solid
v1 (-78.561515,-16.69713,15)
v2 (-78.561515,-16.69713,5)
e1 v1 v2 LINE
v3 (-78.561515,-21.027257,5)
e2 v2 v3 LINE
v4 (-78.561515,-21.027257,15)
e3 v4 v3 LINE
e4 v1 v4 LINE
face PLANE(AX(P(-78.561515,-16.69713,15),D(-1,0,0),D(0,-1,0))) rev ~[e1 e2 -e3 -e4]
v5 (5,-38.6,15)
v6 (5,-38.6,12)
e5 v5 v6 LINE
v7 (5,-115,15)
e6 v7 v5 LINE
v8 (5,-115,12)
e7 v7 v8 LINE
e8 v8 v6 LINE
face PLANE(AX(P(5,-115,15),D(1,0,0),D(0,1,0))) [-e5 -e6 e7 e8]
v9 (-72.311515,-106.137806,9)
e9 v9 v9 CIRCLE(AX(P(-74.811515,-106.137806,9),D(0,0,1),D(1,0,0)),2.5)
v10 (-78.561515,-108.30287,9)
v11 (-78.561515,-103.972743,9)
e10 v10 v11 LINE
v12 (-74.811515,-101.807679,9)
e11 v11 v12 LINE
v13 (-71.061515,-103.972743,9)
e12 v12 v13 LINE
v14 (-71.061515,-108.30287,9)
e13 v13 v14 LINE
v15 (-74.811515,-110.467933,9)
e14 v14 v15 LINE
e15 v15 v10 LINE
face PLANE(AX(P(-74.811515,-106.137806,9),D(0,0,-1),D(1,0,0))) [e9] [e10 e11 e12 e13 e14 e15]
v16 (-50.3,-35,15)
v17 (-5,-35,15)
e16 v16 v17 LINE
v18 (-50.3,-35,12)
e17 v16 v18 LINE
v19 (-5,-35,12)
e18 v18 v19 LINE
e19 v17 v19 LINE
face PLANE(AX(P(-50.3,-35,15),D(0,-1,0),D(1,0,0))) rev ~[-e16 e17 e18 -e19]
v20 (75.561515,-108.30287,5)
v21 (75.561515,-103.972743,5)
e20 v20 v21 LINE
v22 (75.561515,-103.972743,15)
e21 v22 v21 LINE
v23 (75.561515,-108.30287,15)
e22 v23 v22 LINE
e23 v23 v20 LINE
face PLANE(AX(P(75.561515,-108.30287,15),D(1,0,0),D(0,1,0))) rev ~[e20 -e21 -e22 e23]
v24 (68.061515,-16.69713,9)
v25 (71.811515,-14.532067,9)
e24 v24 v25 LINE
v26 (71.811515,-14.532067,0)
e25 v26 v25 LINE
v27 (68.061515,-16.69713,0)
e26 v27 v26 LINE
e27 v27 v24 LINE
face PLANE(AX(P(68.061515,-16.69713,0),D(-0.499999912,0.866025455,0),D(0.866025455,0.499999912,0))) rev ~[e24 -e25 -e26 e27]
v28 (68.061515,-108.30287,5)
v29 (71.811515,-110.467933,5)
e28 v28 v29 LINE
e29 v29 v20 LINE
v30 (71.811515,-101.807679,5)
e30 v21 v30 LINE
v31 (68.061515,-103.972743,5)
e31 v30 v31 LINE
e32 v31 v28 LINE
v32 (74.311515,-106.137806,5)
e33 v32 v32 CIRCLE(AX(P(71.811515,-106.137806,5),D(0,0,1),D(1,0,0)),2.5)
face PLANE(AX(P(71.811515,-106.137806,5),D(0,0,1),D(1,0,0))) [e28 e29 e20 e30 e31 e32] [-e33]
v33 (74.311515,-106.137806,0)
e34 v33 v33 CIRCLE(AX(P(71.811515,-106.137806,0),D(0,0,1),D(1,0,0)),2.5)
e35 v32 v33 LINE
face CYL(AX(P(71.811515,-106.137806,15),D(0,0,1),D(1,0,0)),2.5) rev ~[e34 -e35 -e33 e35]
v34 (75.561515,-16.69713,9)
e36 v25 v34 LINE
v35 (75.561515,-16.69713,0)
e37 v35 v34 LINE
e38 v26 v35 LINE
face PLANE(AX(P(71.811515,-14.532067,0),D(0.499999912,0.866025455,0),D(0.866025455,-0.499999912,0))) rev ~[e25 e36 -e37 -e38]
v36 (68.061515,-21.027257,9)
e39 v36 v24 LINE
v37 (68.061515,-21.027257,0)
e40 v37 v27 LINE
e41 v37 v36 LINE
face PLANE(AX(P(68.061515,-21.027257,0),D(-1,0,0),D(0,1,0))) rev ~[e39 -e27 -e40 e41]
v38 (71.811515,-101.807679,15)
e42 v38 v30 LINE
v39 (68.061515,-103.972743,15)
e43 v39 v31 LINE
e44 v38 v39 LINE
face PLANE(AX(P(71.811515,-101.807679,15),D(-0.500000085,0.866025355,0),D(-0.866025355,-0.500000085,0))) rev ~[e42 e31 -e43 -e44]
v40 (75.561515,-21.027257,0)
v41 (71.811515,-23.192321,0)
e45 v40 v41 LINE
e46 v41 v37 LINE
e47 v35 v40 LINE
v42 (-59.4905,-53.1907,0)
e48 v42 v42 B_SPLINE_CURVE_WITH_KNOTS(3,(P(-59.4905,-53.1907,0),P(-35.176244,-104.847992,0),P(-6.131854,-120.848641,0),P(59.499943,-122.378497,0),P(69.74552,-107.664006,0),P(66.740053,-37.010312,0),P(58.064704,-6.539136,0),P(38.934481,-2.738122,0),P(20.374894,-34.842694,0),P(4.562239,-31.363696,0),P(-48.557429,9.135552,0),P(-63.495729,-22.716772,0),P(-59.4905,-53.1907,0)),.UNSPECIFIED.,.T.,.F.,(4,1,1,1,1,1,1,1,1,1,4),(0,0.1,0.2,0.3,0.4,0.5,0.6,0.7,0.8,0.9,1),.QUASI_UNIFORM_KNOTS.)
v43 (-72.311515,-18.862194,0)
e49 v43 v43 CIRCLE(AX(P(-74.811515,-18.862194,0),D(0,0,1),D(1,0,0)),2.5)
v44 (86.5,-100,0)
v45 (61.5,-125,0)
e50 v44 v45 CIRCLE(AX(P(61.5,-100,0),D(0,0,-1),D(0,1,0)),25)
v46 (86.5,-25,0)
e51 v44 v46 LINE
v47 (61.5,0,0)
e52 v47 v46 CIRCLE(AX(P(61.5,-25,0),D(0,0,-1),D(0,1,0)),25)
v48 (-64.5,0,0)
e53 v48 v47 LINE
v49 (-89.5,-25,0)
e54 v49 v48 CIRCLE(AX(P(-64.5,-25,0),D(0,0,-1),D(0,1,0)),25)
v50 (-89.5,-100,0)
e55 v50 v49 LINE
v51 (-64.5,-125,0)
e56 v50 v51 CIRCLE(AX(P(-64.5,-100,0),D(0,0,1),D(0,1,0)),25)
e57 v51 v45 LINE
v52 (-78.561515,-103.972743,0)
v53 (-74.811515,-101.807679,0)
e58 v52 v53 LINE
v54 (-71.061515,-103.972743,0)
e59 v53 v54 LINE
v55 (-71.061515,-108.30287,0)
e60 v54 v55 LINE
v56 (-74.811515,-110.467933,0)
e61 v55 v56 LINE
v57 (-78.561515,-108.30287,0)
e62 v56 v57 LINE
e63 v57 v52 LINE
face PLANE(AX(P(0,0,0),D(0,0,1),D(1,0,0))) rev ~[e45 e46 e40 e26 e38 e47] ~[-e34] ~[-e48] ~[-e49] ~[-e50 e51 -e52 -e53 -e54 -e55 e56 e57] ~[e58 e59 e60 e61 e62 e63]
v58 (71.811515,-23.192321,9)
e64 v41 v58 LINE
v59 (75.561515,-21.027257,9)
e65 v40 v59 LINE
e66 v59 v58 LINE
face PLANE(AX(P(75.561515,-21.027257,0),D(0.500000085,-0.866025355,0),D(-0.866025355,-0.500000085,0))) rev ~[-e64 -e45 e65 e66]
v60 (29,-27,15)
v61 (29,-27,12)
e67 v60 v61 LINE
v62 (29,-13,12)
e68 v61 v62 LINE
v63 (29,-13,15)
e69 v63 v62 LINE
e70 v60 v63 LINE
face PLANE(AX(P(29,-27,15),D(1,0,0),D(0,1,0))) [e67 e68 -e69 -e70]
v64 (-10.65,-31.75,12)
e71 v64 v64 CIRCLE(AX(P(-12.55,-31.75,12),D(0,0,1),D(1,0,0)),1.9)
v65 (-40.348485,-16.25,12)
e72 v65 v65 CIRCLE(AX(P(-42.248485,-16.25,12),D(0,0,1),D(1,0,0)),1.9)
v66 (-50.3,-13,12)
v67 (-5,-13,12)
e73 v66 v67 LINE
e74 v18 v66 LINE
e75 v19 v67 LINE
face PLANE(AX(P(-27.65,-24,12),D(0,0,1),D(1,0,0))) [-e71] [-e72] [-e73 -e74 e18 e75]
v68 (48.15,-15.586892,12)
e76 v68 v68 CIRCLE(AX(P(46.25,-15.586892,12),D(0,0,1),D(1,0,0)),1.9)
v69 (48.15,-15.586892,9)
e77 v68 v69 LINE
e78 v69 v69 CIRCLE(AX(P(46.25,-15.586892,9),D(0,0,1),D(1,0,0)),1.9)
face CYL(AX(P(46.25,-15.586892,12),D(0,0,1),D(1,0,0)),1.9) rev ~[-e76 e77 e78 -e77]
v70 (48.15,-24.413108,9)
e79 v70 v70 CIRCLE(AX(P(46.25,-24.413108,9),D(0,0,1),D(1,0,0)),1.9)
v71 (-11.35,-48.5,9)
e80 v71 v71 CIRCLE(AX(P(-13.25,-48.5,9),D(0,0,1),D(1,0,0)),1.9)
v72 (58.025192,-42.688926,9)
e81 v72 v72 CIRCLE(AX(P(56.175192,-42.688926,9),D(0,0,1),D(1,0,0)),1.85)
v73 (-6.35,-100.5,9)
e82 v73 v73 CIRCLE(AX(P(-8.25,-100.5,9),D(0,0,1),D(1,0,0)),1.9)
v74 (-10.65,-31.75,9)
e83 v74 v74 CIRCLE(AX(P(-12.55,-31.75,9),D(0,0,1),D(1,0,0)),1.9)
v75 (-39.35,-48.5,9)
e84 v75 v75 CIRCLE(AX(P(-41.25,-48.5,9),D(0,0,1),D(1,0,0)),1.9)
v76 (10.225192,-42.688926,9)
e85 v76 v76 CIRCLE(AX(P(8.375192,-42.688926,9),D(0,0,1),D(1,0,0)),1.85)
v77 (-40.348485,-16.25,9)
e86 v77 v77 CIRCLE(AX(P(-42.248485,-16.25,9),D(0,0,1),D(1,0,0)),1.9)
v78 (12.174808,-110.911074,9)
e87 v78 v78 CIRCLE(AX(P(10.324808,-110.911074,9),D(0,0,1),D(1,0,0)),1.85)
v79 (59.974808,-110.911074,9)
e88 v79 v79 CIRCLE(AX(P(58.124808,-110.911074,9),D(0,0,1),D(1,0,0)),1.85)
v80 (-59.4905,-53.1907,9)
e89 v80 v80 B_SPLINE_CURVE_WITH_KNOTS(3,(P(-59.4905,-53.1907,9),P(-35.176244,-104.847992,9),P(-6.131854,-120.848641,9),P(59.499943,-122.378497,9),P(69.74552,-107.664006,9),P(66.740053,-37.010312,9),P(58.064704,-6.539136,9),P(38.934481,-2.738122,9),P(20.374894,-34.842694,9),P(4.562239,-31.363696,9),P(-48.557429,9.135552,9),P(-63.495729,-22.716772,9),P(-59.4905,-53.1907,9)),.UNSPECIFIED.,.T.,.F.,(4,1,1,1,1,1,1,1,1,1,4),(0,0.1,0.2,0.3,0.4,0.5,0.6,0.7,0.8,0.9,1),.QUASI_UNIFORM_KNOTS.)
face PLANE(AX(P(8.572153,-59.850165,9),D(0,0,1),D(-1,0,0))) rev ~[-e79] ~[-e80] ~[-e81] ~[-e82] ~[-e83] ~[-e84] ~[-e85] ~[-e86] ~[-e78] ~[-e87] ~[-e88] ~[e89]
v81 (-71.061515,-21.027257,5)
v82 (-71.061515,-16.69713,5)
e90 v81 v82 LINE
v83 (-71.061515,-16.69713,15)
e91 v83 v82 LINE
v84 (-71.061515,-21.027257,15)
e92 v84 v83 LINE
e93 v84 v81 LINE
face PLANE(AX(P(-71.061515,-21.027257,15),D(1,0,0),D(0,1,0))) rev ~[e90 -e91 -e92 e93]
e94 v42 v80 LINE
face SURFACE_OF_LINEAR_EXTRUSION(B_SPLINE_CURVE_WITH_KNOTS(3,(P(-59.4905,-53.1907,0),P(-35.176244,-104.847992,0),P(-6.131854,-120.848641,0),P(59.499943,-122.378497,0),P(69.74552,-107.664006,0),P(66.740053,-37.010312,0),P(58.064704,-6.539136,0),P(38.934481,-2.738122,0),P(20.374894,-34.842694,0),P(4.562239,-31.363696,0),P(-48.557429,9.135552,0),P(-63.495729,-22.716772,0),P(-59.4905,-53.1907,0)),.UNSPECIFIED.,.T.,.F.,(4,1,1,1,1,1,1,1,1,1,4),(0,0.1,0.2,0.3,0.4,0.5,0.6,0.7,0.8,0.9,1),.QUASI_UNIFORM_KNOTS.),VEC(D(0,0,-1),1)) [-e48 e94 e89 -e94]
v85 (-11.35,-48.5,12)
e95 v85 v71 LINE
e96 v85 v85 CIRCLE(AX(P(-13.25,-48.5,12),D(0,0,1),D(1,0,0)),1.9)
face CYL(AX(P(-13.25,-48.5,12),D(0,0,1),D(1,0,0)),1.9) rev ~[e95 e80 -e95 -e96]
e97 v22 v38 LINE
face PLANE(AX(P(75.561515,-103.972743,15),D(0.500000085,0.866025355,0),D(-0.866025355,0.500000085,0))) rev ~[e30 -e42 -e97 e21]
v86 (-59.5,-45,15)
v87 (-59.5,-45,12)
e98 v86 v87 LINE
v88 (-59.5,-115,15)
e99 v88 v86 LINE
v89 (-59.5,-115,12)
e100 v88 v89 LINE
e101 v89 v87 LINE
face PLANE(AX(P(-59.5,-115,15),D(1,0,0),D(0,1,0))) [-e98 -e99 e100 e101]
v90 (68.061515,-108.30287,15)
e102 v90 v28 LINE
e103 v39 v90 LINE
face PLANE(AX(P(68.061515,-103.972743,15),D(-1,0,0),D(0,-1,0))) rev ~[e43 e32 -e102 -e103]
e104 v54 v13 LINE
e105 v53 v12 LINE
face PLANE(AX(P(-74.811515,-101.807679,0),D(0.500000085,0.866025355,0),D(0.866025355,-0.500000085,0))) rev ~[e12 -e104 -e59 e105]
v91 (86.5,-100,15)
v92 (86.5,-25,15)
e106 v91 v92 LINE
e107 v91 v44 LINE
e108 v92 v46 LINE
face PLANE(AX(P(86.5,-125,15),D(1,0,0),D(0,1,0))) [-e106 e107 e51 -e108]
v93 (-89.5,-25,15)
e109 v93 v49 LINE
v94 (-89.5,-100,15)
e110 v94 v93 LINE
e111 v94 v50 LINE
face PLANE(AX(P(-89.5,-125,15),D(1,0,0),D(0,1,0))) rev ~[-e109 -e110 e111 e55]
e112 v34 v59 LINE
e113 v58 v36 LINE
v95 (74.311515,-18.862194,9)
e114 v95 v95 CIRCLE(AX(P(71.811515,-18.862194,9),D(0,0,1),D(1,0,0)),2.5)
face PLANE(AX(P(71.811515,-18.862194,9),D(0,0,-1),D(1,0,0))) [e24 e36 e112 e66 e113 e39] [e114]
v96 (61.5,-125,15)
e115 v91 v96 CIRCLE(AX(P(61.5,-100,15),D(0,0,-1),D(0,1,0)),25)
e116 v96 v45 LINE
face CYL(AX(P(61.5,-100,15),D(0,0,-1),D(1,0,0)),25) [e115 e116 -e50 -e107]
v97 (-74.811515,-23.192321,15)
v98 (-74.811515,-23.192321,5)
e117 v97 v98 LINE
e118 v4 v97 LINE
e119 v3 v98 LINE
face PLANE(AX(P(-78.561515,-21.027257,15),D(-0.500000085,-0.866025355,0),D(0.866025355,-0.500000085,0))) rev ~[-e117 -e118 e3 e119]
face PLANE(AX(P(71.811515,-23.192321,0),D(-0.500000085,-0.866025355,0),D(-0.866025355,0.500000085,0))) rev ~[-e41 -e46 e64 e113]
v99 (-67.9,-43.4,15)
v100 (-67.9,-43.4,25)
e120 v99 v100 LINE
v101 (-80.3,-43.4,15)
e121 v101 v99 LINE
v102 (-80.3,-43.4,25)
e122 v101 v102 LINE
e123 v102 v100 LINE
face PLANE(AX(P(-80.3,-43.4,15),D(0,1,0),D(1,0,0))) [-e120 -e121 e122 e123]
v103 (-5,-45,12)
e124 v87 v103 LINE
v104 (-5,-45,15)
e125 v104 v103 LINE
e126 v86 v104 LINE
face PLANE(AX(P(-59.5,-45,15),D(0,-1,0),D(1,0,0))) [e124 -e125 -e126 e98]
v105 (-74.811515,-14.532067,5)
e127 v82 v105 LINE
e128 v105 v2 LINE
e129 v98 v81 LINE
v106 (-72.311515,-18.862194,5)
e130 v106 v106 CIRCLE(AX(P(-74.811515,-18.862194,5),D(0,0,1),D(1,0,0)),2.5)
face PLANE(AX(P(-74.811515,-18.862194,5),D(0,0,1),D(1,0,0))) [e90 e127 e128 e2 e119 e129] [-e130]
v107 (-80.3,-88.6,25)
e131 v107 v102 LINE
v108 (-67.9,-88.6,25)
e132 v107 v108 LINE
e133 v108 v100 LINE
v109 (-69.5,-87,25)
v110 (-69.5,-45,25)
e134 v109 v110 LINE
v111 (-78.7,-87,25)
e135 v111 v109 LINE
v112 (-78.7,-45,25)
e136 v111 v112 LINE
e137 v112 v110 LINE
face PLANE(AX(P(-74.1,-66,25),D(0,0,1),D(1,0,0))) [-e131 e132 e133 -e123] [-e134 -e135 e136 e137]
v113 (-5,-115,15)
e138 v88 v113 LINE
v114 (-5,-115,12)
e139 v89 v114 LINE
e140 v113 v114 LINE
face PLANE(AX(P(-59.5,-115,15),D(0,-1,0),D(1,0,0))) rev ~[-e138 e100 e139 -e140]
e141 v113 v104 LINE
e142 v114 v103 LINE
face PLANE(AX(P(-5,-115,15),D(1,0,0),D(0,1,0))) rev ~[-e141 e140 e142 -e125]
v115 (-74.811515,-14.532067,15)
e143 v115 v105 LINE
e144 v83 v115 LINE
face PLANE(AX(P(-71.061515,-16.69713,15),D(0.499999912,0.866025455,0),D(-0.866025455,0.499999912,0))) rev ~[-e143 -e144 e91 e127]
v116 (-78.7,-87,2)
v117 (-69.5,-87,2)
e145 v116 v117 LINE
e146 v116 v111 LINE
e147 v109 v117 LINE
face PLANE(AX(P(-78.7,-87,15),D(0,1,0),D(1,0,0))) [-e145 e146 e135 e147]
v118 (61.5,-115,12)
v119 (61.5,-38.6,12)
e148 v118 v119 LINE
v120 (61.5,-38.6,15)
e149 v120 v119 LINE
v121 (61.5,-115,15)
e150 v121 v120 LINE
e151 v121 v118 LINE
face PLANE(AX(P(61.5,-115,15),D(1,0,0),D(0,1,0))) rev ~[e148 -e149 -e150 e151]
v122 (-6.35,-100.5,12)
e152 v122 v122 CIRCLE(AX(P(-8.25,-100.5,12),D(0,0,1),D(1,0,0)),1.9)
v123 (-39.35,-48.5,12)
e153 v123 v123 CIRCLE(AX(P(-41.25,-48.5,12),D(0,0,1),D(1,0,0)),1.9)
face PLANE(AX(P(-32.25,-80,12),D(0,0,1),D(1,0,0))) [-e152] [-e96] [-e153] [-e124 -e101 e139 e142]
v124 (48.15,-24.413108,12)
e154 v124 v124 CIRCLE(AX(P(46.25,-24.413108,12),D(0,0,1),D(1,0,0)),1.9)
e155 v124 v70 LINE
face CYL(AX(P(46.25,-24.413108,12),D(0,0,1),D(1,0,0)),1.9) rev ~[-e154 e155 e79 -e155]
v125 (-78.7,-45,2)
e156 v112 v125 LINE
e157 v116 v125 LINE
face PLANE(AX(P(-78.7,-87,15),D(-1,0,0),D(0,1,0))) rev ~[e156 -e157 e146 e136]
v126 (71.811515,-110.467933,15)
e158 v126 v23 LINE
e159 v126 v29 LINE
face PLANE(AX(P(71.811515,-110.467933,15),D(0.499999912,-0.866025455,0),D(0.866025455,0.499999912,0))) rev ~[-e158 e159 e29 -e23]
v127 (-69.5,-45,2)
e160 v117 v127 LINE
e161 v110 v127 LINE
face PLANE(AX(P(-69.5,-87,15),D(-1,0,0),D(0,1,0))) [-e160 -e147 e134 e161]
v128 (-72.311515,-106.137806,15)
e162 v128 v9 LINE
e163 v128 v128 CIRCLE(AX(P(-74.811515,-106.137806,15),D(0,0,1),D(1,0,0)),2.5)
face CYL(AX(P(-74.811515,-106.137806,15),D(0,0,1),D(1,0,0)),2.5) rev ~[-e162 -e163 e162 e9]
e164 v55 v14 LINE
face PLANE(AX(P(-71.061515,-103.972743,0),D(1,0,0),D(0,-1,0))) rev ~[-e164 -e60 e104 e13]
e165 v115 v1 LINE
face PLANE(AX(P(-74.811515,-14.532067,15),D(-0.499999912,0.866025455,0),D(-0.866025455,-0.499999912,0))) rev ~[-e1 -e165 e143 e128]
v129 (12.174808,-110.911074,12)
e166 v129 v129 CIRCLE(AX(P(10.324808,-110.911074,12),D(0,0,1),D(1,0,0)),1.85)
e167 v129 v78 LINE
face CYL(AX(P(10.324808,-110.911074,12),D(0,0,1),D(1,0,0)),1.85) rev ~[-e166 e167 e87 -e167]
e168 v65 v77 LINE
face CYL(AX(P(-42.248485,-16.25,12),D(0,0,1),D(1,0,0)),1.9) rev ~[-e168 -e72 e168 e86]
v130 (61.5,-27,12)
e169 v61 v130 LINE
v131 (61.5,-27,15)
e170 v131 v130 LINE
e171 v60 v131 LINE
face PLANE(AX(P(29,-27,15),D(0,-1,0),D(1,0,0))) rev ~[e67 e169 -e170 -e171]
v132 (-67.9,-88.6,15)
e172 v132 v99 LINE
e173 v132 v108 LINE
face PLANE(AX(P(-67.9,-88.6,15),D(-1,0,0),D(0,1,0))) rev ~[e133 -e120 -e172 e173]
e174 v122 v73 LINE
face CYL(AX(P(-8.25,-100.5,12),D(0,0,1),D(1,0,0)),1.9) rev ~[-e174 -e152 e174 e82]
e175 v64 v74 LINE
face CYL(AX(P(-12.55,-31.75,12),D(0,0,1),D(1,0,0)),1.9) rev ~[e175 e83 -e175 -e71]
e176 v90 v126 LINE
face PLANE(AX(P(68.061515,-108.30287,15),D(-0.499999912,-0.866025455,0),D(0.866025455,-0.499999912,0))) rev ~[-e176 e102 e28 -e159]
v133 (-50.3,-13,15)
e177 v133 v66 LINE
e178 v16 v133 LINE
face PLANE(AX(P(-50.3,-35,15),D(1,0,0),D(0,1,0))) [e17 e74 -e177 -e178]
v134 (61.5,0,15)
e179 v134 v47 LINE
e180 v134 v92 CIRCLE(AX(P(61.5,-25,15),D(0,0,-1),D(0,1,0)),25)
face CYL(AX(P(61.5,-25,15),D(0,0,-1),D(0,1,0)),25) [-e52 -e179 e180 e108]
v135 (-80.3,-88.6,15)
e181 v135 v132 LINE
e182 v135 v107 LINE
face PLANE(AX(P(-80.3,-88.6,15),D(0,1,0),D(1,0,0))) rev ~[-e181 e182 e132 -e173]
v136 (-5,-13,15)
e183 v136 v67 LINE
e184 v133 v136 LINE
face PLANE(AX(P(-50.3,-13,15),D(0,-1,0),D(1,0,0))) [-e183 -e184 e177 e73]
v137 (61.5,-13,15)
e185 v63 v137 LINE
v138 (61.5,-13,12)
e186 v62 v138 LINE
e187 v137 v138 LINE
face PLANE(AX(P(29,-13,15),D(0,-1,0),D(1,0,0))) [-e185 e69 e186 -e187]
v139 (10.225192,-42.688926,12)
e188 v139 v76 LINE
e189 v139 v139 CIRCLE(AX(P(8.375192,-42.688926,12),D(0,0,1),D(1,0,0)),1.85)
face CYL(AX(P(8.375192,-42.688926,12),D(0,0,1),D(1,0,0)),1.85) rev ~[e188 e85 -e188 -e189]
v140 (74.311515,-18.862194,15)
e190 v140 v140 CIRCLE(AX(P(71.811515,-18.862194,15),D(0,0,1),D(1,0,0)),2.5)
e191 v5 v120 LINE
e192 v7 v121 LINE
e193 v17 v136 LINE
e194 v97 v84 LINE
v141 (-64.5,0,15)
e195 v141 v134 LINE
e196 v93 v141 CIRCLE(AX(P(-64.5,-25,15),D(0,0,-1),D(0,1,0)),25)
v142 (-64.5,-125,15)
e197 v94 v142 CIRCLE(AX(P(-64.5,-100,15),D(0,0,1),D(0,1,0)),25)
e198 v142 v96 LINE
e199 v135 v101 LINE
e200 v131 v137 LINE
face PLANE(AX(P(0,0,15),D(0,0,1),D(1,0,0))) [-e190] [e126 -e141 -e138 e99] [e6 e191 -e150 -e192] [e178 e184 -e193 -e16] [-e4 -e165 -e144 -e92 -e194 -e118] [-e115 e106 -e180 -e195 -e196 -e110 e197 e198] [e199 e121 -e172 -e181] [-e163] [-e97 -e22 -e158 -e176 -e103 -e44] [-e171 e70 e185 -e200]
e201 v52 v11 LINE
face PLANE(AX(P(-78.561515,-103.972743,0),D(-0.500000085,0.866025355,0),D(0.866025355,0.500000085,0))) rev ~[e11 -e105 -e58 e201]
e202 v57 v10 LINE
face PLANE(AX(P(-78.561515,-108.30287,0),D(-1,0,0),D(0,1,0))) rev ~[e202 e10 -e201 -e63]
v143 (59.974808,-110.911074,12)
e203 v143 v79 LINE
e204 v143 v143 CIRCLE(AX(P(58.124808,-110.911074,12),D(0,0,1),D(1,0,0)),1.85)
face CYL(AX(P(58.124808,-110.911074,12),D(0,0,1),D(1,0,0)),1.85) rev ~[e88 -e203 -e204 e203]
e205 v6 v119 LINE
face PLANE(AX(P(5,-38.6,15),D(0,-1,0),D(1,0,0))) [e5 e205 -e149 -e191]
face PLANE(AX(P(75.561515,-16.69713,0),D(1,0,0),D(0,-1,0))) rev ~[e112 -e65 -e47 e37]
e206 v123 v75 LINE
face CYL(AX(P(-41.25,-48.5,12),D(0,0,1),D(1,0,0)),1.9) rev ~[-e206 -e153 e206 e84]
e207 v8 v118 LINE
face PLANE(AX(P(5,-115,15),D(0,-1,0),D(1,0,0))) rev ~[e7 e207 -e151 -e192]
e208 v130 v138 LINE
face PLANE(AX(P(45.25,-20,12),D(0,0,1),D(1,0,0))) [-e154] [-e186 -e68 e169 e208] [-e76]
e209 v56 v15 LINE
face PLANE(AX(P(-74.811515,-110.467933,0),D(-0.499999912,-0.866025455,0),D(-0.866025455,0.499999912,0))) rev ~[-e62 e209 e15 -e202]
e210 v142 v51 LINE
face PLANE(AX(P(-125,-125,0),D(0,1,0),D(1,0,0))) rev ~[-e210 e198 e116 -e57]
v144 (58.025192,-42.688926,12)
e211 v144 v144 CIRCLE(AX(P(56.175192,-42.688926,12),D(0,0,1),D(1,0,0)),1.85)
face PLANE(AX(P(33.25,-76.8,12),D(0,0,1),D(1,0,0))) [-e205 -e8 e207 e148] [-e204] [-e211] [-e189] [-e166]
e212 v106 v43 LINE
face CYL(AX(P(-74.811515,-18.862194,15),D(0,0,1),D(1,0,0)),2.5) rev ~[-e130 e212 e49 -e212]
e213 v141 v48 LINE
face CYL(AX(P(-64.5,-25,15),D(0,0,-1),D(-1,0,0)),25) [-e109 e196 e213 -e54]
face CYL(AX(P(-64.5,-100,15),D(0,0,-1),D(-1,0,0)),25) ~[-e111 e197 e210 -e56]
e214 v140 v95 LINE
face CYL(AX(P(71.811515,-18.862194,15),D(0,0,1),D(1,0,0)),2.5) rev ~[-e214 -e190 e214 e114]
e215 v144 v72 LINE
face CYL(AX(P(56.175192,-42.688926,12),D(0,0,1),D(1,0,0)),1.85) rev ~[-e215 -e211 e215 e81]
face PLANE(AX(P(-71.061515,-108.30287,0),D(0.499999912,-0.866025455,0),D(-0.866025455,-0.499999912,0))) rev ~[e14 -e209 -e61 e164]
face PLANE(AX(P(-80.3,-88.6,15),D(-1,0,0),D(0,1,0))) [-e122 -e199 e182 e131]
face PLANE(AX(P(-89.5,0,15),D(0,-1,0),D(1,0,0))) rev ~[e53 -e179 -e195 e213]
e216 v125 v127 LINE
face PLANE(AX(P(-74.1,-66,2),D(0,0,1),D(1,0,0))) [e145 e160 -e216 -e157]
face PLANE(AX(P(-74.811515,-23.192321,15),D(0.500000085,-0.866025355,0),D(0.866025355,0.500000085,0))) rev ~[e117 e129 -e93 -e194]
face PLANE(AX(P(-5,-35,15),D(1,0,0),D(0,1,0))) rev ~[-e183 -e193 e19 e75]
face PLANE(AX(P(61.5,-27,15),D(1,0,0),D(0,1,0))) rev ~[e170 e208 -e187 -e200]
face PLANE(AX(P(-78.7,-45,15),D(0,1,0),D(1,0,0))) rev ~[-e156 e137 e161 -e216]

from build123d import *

# Parameters (mm, degrees)
SKETCH_W        = 250
SKETCH_H        = 250
PAD_DEPTH       = 15
SKETCH001_W     = 54.5
SKETCH001_H     = 70
SKETCH001_W_2   = 56.5
SKETCH001_H_2   = 76.4
SKETCH001_W_3   = 45.3
SKETCH001_H_3   = 22
SKETCH001_W_4   = 32.5
SKETCH001_H_4   = 14
POCKET_DEPTH    = 3
SKETCH002_R     = 1.85
POCKET001_DEPTH = 12.001
SKETCH003_R     = 1.9
POCKET002_DEPTH = 12.001
SKETCH004_R     = 1.9
POCKET003_DEPTH = 12.001
SKETCH005_R     = 1.9
POCKET004_DEPTH = 12.001
SKETCH006_W     = 9.2
SKETCH006_H     = 42
POCKET005_DEPTH = 13
SKETCH007_W     = 12.4
SKETCH007_H     = 45.2
SKETCH007_W_2   = 9.2
SKETCH007_H_2   = 42
PAD001_DEPTH    = 10
SKETCH008_W     = 300
SKETCH008_H     = 300
SKETCH008_W_2   = 176
SKETCH008_H_2   = 125
POCKET006_DEPTH = 15.001
FILLET_R        = 25
SKETCH009_R     = 2.5
POCKET007_DEPTH = 15.001
POCKET008_DEPTH = 9
POCKET009_DEPTH = 10
POCKET010_DEPTH = 9


with BuildPart() as part:
    # Sketch → Pad (new body)
    with BuildSketch(Plane.XY):
        Rectangle(SKETCH_W, SKETCH_H)
    extrude(amount=PAD_DEPTH)

    # Sketch001 (on Face6 of Pad) → Pocket (cut)
    with BuildSketch(Plane.XY.offset(15)):
        with Locations((-32.25, -80)):
            Rectangle(SKETCH001_W, SKETCH001_H)
        with Locations((33.25, -76.8)):
            Rectangle(SKETCH001_W_2, SKETCH001_H_2)
        with Locations((-27.65, -24)):
            Rectangle(SKETCH001_W_3, SKETCH001_H_3)
        with Locations((45.25, -20)):
            Rectangle(SKETCH001_W_4, SKETCH001_H_4)
    extrude(amount=-POCKET_DEPTH, mode=Mode.SUBTRACT)

    # Sketch002 (on Face24 of Pocket) → Pocket001 (cut, through all)
    with BuildSketch(Plane.XY.offset(12)):
        with Locations((8.375192, -42.688926)):
            Circle(SKETCH002_R)
        with Locations((56.175192, -42.688926)):
            Circle(SKETCH002_R)
        with Locations((58.124808, -110.911074)):
            Circle(SKETCH002_R)
        with Locations((10.324808, -110.911074)):
            Circle(SKETCH002_R)
    extrude(amount=-POCKET001_DEPTH, mode=Mode.SUBTRACT)

    # Sketch003 (on Face28 of Pocket001) → Pocket002 (cut, through all)
    with BuildSketch(Plane.XY.offset(12)):
        with Locations((-41.25, -48.5)):
            Circle(SKETCH003_R)
        with Locations((-13.25, -48.5)):
            Circle(SKETCH003_R)
        with Locations((-8.25, -100.5)):
            Circle(SKETCH003_R)
    extrude(amount=-POCKET002_DEPTH, mode=Mode.SUBTRACT)

    # Sketch004 (on Face32 of Pocket002) → Pocket003 (cut, through all)
    with BuildSketch(Plane.XY.offset(12)):
        with Locations((-42.248485, -16.25)):
            Circle(SKETCH004_R)
        with Locations((-12.55, -31.75)):
            Circle(SKETCH004_R)
    extrude(amount=-POCKET003_DEPTH, mode=Mode.SUBTRACT)

    # Sketch005 (on Face35 of Pocket003) → Pocket004 (cut, through all)
    with BuildSketch(Plane.XY.offset(12)):
        with Locations((46.25, -15.586892)):
            Circle(SKETCH005_R)
        with Locations((46.25, -24.413108)):
            Circle(SKETCH005_R)
    extrude(amount=-POCKET004_DEPTH, mode=Mode.SUBTRACT)

    # Sketch006 (on Face5 of Pocket004) → Pocket005 (cut)
    with BuildSketch(Plane.XY.offset(15)):
        with Locations((-74.1, -66)):
            Rectangle(SKETCH006_W, SKETCH006_H)
    extrude(amount=-POCKET005_DEPTH, mode=Mode.SUBTRACT)

    # Sketch007 (on Face5 of Pocket005) → Pad001 (join)
    with BuildSketch(Plane.XY.offset(15)):
        with Locations((-74.1, -66)):
            Rectangle(SKETCH007_W, SKETCH007_H)
        with Locations((-74.1, -66)):
            Rectangle(SKETCH007_W_2, SKETCH007_H_2, mode=Mode.SUBTRACT)
    extrude(amount=PAD001_DEPTH)

    # Sketch008 (on Face5 of Pad001) → Pocket006 (cut, through all)
    with BuildSketch(Plane.XY.offset(15)):
        Rectangle(SKETCH008_W, SKETCH008_H)
        with Locations((-1.5, -62.5)):
            Rectangle(SKETCH008_W_2, SKETCH008_H_2, mode=Mode.SUBTRACT)
    extrude(amount=-POCKET006_DEPTH, mode=Mode.SUBTRACT)

    # Fillet
    fillet_edges = [part.edges().sort_by_distance(p)[0] for p in [
        (-89.5, 0, 7.5),
        (86.5, 0, 7.5),
        (-89.5, -125, 7.5),
        (86.5, -125, 7.5),
    ]]
    fillet(fillet_edges, radius=FILLET_R)

    # Sketch009 (on Face21 of Fillet) → Pocket007 (cut, through all)
    with BuildSketch(Plane.XY.offset(15)):
        with Locations((-74.811515, -18.862194)):
            Circle(SKETCH009_R)
        with Locations((-74.811515, -106.137806)):
            Circle(SKETCH009_R)
        with Locations((71.811515, -106.137806)):
            Circle(SKETCH009_R)
        with Locations((71.811515, -18.862194)):
            Circle(SKETCH009_R)
    extrude(amount=-POCKET007_DEPTH, mode=Mode.SUBTRACT)

    # Sketch010 (on Face1 of Pocket007) → Pocket008 (cut)
    with BuildSketch(Plane(origin=(0, 0, 0), x_dir=(1, 0, 0), z_dir=(0, 0, -1))):
        with BuildLine():
            add(Edge.make_bspline(
                [(-59.4905, 53.1907), (-35.176244, 104.847992), (-6.131854, 120.848641), (59.499943, 122.378497), (69.74552, 107.664006), (66.740053, 37.010312), (58.064704, 6.539136), (38.934481, 2.738122), (20.374894, 34.842694), (4.562239, 31.363696), (-48.557429, -9.135552), (-63.495729, 22.716772), (-59.4905, 53.1907)],
                knots=[0, 0, 0, 0, 0.1, 0.2, 0.3, 0.4, 0.5, 0.6, 0.7, 0.8, 0.9, 1, 1, 1, 1], degree=3))
        make_face()
    extrude(amount=-POCKET008_DEPTH, mode=Mode.SUBTRACT)

    # Sketch011 (on Face15 of Pocket008) → Pocket009 (cut)
    with BuildSketch(Plane.XY.offset(15)):
        Polygon((-71.061515, -21.027257), (-71.061515, -16.69713), (-74.811515, -14.532067), (-78.561515, -16.69713), (-78.561515, -21.027257), (-74.811515, -23.192321), align=None)
        Polygon((75.561515, -108.30287), (75.561515, -103.972743), (71.811515, -101.807679), (68.061515, -103.972743), (68.061515, -108.30287), (71.811515, -110.467933), align=None)
    extrude(amount=-POCKET009_DEPTH, mode=Mode.SUBTRACT)

    # Sketch012 (on Face1 of Pocket009) → Pocket010 (cut)
    with BuildSketch(Plane(origin=(0, 0, 0), x_dir=(1, 0, 0), z_dir=(0, 0, -1))):
        Polygon((-71.061515, 103.972743), (-71.061515, 108.30287), (-74.811515, 110.467933), (-78.561515, 108.30287), (-78.561515, 103.972743), (-74.811515, 101.807679), align=None)
        Polygon((75.561515, 16.69713), (75.561515, 21.027257), (71.811515, 23.192321), (68.061515, 21.027257), (68.061515, 16.69713), (71.811515, 14.532067), align=None)
    extrude(amount=-POCKET010_DEPTH, mode=Mode.SUBTRACT)


solid = part.part
